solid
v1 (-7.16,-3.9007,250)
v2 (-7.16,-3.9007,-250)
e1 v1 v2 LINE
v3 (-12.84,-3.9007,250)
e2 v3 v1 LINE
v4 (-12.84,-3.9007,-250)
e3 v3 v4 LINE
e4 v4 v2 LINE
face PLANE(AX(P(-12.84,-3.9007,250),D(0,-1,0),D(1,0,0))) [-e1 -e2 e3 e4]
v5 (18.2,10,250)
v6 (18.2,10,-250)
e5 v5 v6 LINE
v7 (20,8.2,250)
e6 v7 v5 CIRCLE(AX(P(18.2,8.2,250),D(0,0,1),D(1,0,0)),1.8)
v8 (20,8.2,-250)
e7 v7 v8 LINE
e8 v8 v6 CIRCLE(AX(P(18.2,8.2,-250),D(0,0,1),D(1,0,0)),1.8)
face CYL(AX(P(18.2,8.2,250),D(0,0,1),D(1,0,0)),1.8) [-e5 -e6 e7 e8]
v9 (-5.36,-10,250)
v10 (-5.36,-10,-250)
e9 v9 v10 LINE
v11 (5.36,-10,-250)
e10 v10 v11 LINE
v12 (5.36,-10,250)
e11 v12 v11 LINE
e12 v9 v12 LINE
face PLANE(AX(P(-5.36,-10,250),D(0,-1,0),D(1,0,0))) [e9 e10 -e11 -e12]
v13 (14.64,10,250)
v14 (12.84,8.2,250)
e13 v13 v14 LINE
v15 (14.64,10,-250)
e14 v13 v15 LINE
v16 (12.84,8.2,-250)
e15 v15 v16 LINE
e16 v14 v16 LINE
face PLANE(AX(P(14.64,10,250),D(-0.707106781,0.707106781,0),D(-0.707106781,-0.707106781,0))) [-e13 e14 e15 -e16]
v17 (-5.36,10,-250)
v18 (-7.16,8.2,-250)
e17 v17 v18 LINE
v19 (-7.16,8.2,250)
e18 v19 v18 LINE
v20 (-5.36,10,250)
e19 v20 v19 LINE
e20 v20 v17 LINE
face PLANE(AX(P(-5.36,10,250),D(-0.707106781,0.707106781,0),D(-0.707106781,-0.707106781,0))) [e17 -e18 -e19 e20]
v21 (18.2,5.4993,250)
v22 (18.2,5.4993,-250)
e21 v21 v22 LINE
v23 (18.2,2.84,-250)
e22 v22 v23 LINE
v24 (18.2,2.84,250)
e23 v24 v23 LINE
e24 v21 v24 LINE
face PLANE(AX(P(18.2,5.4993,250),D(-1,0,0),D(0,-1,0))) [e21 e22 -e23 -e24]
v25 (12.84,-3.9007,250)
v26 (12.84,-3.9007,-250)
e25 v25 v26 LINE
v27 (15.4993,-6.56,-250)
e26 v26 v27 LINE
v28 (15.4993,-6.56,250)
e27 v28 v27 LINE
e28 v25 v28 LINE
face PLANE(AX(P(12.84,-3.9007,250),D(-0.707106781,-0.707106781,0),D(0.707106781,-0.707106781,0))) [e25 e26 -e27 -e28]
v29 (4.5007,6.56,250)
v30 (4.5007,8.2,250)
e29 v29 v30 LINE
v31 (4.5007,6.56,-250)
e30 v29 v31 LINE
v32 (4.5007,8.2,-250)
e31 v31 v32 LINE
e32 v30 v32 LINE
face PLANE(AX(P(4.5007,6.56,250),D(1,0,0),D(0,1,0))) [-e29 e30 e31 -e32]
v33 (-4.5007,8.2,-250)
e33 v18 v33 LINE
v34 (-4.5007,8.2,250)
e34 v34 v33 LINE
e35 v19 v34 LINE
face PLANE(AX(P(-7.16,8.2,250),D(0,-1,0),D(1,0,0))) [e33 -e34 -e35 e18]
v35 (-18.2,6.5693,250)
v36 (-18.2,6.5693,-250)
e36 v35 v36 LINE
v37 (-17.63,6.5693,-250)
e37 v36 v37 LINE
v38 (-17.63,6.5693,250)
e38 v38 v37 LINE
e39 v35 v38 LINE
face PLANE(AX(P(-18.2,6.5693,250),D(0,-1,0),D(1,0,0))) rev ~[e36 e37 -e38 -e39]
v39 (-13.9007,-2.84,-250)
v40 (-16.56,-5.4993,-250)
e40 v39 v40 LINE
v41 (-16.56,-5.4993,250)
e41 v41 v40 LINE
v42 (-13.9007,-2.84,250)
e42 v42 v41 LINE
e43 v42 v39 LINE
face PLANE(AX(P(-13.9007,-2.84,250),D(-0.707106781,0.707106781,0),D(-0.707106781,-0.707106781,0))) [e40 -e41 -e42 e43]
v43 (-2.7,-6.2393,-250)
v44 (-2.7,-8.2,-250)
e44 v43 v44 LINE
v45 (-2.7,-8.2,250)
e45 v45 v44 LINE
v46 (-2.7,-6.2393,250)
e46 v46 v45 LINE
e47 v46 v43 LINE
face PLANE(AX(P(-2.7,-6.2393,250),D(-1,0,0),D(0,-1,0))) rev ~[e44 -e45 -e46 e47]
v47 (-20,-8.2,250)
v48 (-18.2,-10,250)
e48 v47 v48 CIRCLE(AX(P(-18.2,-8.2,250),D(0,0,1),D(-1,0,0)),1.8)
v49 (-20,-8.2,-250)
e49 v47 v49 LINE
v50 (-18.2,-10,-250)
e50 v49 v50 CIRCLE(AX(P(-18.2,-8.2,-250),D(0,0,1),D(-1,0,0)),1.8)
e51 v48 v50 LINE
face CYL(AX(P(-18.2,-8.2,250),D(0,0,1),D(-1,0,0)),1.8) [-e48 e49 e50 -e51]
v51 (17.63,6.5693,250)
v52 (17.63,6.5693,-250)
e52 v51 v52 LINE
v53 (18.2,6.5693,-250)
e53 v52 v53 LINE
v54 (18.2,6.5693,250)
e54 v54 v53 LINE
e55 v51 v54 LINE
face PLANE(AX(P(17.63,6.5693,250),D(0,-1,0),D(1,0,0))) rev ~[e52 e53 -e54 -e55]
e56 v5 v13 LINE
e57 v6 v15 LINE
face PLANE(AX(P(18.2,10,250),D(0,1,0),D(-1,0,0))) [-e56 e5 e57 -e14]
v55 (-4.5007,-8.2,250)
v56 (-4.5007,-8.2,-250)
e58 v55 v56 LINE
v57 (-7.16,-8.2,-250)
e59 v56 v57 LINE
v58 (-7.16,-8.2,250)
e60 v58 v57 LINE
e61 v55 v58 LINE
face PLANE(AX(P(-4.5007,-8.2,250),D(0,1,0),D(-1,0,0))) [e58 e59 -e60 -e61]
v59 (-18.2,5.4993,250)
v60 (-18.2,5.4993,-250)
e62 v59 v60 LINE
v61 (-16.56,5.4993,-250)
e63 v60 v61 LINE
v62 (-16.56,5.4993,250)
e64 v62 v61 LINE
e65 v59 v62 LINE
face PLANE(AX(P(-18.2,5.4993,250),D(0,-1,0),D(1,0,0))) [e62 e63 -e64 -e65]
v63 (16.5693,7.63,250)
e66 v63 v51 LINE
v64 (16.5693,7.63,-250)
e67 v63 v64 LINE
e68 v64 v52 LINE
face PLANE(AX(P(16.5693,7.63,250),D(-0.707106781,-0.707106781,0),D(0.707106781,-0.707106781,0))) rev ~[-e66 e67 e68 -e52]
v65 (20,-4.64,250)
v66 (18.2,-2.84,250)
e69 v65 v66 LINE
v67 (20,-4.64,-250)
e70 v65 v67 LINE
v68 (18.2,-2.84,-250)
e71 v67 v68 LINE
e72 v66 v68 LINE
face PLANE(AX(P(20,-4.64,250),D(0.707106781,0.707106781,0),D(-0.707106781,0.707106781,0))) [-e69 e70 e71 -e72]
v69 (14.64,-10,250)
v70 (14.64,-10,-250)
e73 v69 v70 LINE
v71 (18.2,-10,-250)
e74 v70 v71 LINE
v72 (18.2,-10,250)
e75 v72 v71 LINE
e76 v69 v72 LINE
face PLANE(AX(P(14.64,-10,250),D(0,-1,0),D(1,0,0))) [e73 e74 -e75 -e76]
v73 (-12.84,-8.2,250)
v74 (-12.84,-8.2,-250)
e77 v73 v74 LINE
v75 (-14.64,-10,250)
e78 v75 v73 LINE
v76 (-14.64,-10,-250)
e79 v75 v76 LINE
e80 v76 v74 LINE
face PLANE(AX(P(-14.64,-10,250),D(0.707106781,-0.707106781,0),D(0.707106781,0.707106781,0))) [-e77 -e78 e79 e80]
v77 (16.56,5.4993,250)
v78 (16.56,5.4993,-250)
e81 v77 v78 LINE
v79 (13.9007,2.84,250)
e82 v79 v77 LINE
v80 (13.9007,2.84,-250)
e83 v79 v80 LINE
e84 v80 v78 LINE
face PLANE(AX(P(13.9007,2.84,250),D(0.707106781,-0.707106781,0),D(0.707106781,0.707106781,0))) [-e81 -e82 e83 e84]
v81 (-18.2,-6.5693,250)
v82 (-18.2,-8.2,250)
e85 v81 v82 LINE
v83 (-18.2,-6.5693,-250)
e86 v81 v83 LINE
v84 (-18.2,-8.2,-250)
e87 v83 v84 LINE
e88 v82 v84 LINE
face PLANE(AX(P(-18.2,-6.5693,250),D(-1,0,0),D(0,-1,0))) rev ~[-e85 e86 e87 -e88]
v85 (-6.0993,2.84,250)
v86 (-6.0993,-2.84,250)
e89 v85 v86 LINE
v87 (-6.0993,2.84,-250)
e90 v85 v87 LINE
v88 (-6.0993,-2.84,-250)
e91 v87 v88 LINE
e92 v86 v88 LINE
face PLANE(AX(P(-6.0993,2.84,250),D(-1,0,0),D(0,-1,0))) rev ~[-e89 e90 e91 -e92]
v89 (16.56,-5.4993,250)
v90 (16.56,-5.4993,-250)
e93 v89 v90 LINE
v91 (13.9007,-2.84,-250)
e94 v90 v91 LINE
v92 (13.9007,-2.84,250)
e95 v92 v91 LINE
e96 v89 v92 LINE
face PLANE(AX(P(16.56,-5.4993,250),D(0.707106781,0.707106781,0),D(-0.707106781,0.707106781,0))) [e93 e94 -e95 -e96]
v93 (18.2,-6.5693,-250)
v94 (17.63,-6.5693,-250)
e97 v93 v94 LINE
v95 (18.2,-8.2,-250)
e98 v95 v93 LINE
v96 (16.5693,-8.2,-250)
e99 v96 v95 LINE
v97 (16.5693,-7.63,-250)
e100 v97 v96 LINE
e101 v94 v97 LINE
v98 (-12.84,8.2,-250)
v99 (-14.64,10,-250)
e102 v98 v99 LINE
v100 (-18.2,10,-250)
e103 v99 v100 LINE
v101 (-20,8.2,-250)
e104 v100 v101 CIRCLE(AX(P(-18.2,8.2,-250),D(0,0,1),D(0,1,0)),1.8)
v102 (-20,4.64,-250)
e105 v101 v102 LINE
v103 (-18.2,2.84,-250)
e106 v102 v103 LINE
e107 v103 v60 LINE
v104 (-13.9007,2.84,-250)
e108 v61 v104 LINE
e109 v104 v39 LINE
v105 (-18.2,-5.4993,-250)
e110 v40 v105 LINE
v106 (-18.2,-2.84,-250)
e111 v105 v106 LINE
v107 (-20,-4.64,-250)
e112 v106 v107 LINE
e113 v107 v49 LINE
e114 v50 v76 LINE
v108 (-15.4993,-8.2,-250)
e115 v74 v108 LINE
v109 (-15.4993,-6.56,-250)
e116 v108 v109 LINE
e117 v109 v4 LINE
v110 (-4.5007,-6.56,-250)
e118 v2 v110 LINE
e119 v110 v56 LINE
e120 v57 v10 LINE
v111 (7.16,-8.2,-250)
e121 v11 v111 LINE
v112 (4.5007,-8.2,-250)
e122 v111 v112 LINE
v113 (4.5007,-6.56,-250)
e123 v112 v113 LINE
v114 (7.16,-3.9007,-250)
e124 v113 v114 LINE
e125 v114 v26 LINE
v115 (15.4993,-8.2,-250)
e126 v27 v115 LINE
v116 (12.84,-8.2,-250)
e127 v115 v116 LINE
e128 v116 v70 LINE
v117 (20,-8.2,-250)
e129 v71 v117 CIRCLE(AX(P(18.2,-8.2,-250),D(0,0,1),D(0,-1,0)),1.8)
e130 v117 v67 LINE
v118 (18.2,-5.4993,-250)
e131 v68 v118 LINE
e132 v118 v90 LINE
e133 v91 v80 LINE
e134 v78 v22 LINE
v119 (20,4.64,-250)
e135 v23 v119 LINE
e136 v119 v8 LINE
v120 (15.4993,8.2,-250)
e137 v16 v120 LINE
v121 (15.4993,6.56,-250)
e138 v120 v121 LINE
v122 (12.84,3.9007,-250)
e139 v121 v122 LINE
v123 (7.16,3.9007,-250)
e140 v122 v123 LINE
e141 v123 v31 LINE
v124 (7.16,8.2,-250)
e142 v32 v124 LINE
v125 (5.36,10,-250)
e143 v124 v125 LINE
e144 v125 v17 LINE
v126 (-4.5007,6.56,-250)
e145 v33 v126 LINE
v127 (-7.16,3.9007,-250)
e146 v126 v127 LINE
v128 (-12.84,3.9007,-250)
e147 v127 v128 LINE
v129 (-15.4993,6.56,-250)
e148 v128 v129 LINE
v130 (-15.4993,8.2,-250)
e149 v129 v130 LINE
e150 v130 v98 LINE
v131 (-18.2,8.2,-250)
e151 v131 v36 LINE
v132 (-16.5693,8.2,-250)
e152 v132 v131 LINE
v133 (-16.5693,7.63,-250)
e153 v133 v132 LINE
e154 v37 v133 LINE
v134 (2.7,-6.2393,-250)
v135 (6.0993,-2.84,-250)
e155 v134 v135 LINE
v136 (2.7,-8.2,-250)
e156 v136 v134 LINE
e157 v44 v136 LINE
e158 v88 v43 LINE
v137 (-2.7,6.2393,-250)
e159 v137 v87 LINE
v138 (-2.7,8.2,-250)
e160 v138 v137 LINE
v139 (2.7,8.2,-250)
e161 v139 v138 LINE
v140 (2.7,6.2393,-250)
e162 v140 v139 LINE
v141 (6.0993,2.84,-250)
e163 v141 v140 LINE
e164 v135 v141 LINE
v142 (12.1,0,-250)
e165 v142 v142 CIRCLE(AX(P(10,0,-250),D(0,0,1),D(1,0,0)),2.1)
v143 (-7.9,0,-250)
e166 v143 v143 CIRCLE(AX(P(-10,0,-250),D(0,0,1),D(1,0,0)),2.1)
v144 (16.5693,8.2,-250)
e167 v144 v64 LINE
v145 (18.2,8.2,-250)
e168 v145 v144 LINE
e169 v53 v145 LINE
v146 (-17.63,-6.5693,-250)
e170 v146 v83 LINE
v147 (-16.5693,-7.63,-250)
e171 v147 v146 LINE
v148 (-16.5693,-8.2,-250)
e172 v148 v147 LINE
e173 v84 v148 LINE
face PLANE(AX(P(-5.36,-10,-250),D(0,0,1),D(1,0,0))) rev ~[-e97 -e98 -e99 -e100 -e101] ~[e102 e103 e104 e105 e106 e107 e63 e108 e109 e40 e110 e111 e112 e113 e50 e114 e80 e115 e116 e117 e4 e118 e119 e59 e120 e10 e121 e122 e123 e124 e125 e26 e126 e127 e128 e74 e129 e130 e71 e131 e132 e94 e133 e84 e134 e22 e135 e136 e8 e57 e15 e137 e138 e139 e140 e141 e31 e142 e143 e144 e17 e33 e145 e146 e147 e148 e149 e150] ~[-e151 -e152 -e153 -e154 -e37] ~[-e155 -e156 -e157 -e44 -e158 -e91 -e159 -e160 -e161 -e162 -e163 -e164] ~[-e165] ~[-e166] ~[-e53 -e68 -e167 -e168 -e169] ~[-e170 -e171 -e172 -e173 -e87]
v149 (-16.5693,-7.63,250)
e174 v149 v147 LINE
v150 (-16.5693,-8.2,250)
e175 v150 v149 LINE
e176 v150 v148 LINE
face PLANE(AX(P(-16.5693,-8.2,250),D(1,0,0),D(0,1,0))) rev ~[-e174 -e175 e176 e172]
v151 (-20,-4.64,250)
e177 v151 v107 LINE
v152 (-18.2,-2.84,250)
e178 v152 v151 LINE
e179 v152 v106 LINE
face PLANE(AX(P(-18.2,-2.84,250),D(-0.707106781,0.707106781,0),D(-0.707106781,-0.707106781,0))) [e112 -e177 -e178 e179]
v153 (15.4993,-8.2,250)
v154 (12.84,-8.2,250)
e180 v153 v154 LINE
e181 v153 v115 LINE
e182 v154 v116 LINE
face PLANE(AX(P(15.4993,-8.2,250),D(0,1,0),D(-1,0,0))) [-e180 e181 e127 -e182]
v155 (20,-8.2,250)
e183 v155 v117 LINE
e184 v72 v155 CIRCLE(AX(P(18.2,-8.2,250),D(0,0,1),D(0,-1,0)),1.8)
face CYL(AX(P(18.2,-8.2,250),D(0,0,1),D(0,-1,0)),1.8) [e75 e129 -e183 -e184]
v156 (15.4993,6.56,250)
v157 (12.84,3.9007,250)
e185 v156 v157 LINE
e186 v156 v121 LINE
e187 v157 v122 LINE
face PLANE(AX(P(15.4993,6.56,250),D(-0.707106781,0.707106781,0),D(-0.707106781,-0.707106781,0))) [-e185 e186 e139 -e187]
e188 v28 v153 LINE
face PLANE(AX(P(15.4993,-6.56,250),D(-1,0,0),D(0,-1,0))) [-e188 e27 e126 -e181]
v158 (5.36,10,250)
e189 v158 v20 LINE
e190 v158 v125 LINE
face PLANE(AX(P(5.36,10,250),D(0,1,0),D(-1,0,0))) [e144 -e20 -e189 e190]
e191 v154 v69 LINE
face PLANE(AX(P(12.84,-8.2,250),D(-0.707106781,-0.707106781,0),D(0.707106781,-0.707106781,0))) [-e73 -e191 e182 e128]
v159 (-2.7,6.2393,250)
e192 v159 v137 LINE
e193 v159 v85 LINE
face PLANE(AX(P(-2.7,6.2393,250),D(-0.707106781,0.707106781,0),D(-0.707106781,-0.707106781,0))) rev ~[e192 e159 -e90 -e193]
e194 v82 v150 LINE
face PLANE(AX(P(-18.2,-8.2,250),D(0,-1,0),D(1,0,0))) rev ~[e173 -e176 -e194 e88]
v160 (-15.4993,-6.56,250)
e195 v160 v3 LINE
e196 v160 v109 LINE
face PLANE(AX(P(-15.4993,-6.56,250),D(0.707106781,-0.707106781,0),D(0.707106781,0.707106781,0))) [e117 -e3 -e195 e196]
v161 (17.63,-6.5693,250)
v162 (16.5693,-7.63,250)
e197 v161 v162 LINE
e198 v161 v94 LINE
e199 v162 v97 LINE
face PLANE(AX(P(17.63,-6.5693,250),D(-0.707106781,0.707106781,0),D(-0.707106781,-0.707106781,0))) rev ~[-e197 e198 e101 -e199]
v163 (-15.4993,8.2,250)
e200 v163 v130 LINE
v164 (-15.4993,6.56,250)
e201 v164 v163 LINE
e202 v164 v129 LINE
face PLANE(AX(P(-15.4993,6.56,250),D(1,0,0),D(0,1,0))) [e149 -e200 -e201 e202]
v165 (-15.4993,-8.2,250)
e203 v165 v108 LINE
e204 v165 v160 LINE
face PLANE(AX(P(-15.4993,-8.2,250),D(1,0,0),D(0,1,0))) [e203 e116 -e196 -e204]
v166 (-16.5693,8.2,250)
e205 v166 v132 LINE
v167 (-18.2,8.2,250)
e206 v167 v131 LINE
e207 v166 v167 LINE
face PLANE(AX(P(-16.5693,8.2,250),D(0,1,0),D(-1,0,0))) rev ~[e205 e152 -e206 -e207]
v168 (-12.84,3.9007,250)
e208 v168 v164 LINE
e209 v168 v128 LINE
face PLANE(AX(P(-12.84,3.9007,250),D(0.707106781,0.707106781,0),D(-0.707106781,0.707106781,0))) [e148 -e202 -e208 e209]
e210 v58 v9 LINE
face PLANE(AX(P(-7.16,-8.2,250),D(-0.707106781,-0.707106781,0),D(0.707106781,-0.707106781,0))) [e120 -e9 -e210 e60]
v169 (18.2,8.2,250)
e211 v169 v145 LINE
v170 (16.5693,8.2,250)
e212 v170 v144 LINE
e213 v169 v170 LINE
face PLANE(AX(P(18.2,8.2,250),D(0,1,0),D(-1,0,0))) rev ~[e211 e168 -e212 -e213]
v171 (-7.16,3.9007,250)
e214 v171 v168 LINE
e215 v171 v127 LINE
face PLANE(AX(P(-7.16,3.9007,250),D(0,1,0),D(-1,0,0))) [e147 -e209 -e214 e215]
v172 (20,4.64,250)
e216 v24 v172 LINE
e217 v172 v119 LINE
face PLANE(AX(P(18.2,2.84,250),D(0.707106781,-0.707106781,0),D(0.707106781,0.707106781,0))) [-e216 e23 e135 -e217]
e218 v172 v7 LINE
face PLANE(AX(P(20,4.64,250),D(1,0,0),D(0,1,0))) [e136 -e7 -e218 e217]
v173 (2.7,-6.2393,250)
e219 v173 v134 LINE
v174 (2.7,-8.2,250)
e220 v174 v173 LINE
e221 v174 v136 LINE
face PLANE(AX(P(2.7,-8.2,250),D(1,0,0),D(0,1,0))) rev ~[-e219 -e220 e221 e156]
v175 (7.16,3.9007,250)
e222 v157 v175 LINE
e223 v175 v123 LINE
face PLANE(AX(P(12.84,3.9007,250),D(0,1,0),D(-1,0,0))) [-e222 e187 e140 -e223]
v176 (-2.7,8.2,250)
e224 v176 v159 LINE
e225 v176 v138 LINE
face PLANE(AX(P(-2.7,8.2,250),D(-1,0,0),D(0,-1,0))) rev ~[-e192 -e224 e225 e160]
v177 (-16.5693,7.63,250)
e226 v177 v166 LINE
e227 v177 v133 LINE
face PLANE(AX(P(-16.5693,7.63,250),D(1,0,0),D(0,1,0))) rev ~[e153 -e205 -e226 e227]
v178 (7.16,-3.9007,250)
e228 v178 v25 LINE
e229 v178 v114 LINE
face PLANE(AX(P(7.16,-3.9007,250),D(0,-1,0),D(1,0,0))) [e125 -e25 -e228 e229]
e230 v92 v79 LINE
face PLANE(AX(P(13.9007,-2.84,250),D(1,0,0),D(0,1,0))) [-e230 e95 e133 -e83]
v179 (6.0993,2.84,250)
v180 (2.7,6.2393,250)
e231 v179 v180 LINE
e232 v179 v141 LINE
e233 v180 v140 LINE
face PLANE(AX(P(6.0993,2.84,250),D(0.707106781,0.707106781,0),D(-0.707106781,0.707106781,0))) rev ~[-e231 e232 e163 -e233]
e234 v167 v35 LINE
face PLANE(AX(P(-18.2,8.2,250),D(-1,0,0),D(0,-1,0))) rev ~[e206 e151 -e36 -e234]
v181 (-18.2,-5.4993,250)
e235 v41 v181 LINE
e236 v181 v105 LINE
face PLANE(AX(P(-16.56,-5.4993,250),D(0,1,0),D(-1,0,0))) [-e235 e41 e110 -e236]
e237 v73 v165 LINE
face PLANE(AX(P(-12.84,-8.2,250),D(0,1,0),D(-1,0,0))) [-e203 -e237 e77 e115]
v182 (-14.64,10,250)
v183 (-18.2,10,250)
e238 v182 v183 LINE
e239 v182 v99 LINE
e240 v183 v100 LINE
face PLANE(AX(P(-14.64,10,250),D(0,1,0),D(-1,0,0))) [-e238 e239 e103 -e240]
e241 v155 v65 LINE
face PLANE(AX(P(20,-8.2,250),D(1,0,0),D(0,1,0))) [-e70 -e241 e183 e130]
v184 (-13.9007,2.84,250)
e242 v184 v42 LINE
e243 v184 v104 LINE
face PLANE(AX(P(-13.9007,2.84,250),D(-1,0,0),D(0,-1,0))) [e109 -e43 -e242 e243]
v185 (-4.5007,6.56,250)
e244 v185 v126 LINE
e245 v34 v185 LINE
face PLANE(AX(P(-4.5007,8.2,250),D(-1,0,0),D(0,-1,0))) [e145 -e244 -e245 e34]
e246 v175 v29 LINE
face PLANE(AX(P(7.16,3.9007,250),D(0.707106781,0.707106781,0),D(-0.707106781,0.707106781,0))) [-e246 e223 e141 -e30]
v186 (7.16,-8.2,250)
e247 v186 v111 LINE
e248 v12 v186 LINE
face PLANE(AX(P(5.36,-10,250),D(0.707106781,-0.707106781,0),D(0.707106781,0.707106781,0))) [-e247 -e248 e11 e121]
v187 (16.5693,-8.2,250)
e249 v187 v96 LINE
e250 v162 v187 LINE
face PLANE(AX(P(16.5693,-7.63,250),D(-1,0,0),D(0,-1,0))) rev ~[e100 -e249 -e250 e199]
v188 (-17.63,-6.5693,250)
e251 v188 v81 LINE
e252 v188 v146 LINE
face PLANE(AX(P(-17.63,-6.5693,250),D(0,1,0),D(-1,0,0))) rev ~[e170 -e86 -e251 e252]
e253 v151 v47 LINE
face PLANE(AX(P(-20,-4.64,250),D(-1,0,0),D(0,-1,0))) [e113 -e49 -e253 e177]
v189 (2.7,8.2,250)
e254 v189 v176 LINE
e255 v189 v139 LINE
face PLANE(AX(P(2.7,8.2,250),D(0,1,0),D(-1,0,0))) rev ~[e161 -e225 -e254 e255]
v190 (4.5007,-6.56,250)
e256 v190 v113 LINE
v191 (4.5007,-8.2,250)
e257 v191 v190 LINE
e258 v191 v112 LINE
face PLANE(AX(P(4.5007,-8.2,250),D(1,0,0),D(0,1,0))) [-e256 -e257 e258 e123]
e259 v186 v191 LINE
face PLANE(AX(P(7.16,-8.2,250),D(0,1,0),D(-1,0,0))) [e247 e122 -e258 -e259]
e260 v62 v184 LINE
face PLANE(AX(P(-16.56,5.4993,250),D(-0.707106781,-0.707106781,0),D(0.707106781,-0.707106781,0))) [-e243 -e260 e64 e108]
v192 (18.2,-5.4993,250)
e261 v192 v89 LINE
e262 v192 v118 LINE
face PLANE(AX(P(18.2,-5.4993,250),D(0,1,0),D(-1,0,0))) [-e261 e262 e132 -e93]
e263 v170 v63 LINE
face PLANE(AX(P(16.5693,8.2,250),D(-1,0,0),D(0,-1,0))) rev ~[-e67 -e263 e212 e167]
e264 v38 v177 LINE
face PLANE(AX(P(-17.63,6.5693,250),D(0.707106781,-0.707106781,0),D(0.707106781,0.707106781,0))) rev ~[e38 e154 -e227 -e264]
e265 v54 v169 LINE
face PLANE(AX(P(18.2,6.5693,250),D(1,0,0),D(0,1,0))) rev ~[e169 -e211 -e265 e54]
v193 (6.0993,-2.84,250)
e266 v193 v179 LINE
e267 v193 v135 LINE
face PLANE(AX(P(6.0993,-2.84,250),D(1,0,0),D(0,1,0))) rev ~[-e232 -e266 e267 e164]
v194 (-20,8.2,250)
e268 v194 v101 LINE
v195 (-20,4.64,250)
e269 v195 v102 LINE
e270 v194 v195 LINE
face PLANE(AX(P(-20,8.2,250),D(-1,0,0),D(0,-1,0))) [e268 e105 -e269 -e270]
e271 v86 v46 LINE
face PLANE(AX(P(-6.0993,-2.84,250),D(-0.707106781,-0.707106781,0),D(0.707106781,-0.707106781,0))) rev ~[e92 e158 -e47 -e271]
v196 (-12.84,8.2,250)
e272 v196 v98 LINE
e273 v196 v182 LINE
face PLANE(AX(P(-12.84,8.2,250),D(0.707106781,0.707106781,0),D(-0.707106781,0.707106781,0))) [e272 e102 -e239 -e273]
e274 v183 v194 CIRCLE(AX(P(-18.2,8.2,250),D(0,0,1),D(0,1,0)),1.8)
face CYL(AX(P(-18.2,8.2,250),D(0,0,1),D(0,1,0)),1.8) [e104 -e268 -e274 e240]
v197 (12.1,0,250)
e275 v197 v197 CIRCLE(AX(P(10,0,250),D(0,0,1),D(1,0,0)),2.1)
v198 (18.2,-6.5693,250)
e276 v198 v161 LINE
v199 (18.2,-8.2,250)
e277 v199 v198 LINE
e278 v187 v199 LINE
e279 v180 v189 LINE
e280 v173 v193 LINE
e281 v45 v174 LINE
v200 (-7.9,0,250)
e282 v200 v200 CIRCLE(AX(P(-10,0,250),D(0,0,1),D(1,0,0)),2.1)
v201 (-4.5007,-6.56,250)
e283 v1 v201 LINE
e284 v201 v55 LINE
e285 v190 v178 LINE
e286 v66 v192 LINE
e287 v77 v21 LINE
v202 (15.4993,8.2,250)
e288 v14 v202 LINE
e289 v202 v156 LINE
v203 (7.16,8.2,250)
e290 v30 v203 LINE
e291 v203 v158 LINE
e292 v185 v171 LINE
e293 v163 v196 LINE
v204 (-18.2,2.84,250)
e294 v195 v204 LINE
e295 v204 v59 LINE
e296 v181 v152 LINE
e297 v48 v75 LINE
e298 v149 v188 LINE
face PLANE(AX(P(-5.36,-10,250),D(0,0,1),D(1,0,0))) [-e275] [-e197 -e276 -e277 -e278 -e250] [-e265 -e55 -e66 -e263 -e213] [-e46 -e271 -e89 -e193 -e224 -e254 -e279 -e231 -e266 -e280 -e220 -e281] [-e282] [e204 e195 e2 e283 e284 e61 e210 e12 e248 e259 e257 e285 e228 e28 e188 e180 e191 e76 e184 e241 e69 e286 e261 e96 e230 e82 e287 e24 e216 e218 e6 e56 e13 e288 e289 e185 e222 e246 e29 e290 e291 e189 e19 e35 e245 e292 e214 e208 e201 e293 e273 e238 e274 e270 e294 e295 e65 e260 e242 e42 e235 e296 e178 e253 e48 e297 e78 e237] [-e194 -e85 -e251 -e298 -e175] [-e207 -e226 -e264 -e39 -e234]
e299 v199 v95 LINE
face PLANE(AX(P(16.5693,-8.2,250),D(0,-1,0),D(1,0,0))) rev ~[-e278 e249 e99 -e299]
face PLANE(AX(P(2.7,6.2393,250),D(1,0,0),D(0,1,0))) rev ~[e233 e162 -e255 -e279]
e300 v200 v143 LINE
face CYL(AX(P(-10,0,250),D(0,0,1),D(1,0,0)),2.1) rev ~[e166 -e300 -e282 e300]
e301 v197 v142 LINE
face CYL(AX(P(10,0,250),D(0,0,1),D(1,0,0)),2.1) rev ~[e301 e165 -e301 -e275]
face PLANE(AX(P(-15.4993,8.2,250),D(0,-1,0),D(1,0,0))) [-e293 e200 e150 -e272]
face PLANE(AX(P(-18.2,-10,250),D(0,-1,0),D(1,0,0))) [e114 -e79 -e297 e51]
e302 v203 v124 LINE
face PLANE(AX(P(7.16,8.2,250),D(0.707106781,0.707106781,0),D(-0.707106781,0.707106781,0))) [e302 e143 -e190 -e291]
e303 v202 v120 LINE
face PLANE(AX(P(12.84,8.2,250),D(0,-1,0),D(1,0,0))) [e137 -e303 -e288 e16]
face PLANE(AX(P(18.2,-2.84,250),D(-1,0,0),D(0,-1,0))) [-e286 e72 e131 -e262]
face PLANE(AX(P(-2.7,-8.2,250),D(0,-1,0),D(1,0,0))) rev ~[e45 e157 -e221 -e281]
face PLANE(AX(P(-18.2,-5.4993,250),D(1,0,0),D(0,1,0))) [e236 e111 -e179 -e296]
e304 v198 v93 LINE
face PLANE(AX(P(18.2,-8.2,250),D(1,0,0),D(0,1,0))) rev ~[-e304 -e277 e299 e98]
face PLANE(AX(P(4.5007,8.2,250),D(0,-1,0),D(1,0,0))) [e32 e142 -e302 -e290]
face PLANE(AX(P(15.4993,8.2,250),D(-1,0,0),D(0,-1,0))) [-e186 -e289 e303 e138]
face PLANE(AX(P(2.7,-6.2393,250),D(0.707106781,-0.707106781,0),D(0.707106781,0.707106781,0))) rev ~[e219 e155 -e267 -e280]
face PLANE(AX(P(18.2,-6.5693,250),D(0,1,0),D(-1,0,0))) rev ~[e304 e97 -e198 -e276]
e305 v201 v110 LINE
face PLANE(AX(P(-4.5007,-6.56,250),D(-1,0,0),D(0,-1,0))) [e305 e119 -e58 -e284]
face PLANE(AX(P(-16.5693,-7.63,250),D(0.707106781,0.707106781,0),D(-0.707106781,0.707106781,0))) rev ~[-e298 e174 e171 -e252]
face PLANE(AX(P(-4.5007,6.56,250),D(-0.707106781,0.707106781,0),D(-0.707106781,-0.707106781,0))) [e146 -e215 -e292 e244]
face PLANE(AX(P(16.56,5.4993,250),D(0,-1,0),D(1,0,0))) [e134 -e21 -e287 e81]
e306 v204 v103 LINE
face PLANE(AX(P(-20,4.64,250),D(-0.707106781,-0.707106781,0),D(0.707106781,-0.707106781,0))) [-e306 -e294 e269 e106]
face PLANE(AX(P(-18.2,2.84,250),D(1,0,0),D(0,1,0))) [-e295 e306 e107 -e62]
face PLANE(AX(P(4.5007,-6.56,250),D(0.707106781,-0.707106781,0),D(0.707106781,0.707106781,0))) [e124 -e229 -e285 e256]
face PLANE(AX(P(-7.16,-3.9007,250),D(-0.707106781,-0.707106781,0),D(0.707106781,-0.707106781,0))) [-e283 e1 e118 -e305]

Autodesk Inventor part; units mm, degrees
ref_plane "YZ Plane" through (0, 0, 0) normal (1, 0, 0) x (0, 1, 0)
ref_plane "XZ Plane" through (0, 0, 0) normal (0, 1, 0) x (-1, 0, 0)
ref_plane "Work Plane2" through (-5.36, -10, 250) normal (0, 0, 1) x (1, 0, 0)
sketch "Sketch1" plane through (-5.36, -10, 250) normal (0, 0, 1) x (1, 0, 0)
  line L0 (-1.8, 13.9007) -> (-7.48, 13.9007) projected
  line L1 (-7.48, 13.9007) -> (-10.1393, 16.56) projected
  line L2 (-10.1393, 16.56) -> (-10.1393, 18.2) projected
  line L3 (-10.1393, 18.2) -> (-7.48, 18.2) projected
  line L4 (-7.48, 18.2) -> (-9.28, 20) projected
  line L5 (-9.28, 20) -> (-12.84, 20) projected
  arc A0 (-12.84, 20) -> (-14.64, 18.2) centre (-12.84, 18.2) ccw projected
  line L6 (-14.64, 18.2) -> (-14.64, 14.64) projected
  line L7 (-14.64, 14.64) -> (-12.84, 12.84) projected
  line L8 (-12.84, 12.84) -> (-12.84, 15.4993) projected
  line L9 (-12.84, 15.4993) -> (-11.2, 15.4993) projected
  line L10 (-11.2, 15.4993) -> (-8.5407, 12.84) projected
  line L11 (-8.5407, 12.84) -> (-8.5407, 7.16) projected
  line L12 (-8.5407, 7.16) -> (-11.2, 4.5007) projected
  line L13 (-11.2, 4.5007) -> (-12.84, 4.5007) projected
  line L14 (-12.84, 4.5007) -> (-12.84, 7.16) projected
  line L15 (-12.84, 7.16) -> (-14.64, 5.36) projected
  line L16 (-14.64, 5.36) -> (-14.64, 1.8) projected
  arc A1 (-14.64, 1.8) -> (-12.84, 0) centre (-12.84, 1.8) ccw projected
  line L17 (-12.84, 0) -> (-9.28, 0) projected
  line L18 (-9.28, 0) -> (-7.48, 1.8) projected
  line L19 (-7.48, 1.8) -> (-10.1393, 1.8) projected
  line L20 (-10.1393, 1.8) -> (-10.1393, 3.44) projected
  line L21 (-10.1393, 3.44) -> (-7.48, 6.0993) projected
  line L22 (-7.48, 6.0993) -> (-1.8, 6.0993) projected
  line L23 (-1.8, 6.0993) -> (0.8593, 3.44) projected
  line L24 (0.8593, 3.44) -> (0.8593, 1.8) projected
  line L25 (0.8593, 1.8) -> (-1.8, 1.8) projected
  line L26 (-1.8, 1.8) -> (0, 0) projected
  line L27 (0, 0) -> (10.72, 0) projected
  line L28 (10.72, 0) -> (12.52, 1.8) projected
  line L29 (12.52, 1.8) -> (9.8607, 1.8) projected
  line L30 (9.8607, 1.8) -> (9.8607, 3.44) projected
  line L31 (9.8607, 3.44) -> (12.52, 6.0993) projected
  line L32 (12.52, 6.0993) -> (18.2, 6.0993) projected
  line L33 (18.2, 6.0993) -> (20.8593, 3.44) projected
  line L34 (20.8593, 3.44) -> (20.8593, 1.8) projected
  line L35 (20.8593, 1.8) -> (18.2, 1.8) projected
  line L36 (18.2, 1.8) -> (20, 0) projected
  line L37 (20, 0) -> (23.56, 0) projected
  arc A2 (23.56, 0) -> (25.36, 1.8) centre (23.56, 1.8) ccw projected
  line L38 (25.36, 1.8) -> (25.36, 5.36) projected
  line L39 (25.36, 5.36) -> (23.56, 7.16) projected
  line L40 (23.56, 7.16) -> (23.56, 4.5007) projected
  line L41 (23.56, 4.5007) -> (21.92, 4.5007) projected
  line L42 (21.92, 4.5007) -> (19.2607, 7.16) projected
  line L43 (19.2607, 7.16) -> (19.2607, 12.84) projected
  line L44 (19.2607, 12.84) -> (21.92, 15.4993) projected
  line L45 (21.92, 15.4993) -> (23.56, 15.4993) projected
  line L46 (23.56, 15.4993) -> (23.56, 12.84) projected
  line L47 (23.56, 12.84) -> (25.36, 14.64) projected
  line L48 (25.36, 14.64) -> (25.36, 18.2) projected
  arc A3 (25.36, 18.2) -> (23.56, 20) centre (23.56, 18.2) ccw projected
  line L49 (23.56, 20) -> (20, 20) projected
  line L50 (20, 20) -> (18.2, 18.2) projected
  line L51 (18.2, 18.2) -> (20.8593, 18.2) projected
  line L52 (20.8593, 18.2) -> (20.8593, 16.56) projected
  line L53 (20.8593, 16.56) -> (18.2, 13.9007) projected
  line L54 (18.2, 13.9007) -> (12.52, 13.9007) projected
  line L55 (12.52, 13.9007) -> (9.8607, 16.56) projected
  line L56 (9.8607, 16.56) -> (9.8607, 18.2) projected
  line L57 (9.8607, 18.2) -> (12.52, 18.2) projected
  line L58 (12.52, 18.2) -> (10.72, 20) projected
  line L59 (10.72, 20) -> (0, 20) projected
  line L60 (0, 20) -> (-1.8, 18.2) projected
  line L61 (-1.8, 18.2) -> (0.8593, 18.2) projected
  line L62 (0.8593, 18.2) -> (0.8593, 16.56) projected
  line L63 (0.8593, 16.56) -> (-1.8, 13.9007) projected
  circle A4 centre (-4.64, 10) radius 2.1 projected
  line L64 (-12.84, 1.8) -> (-11.2093, 1.8) projected
  line L65 (-12.84, 3.4307) -> (-12.84, 1.8) projected
  line L66 (-12.27, 3.4307) -> (-12.84, 3.4307) projected
  line L67 (-11.2093, 2.37) -> (-12.27, 3.4307) projected
  line L68 (-11.2093, 1.8) -> (-11.2093, 2.37) projected
  line L69 (23.56, 16.5693) -> (23.56, 18.2) projected
  line L70 (22.99, 16.5693) -> (23.56, 16.5693) projected
  line L71 (21.9293, 17.63) -> (22.99, 16.5693) projected
  line L72 (21.9293, 18.2) -> (21.9293, 17.63) projected
  line L73 (23.56, 18.2) -> (21.9293, 18.2) projected
  circle A5 centre (15.36, 10) radius 2.1 projected
  line L74 (23.56, 1.8) -> (23.56, 3.4307) projected
  line L75 (21.9293, 1.8) -> (23.56, 1.8) projected
  line L76 (21.9293, 2.37) -> (21.9293, 1.8) projected
  line L77 (22.99, 3.4307) -> (21.9293, 2.37) projected
  line L78 (23.56, 3.4307) -> (22.99, 3.4307) projected
  line L79 (-11.2093, 18.2) -> (-12.84, 18.2) projected
  line L80 (-11.2093, 17.63) -> (-11.2093, 18.2) projected
  line L81 (-12.27, 16.5693) -> (-11.2093, 17.63) projected
  line L82 (-12.84, 16.5693) -> (-12.27, 16.5693) projected
  line L83 (-12.84, 18.2) -> (-12.84, 16.5693) projected
  line L84 (8.06, 18.2) -> (2.66, 18.2) projected
  line L85 (8.06, 16.2393) -> (8.06, 18.2) projected
  line L86 (11.4593, 12.84) -> (8.06, 16.2393) projected
  line L87 (11.4593, 7.16) -> (11.4593, 12.84) projected
  line L88 (8.06, 3.7607) -> (11.4593, 7.16) projected
  line L89 (8.06, 1.8) -> (8.06, 3.7607) projected
  line L90 (2.66, 1.8) -> (8.06, 1.8) projected
  line L91 (2.66, 3.7607) -> (2.66, 1.8) projected
  line L92 (-0.7393, 7.16) -> (2.66, 3.7607) projected
  line L93 (-0.7393, 12.84) -> (-0.7393, 7.16) projected
  line L94 (2.66, 16.2393) -> (-0.7393, 12.84) projected
  line L95 (2.66, 18.2) -> (2.66, 16.2393) projected
  point P0 (5.36, 10)
extrude "Extrusion2" add sketch "Sketch1" against normal blind 500
properties part number "vslot_20x40x500"
